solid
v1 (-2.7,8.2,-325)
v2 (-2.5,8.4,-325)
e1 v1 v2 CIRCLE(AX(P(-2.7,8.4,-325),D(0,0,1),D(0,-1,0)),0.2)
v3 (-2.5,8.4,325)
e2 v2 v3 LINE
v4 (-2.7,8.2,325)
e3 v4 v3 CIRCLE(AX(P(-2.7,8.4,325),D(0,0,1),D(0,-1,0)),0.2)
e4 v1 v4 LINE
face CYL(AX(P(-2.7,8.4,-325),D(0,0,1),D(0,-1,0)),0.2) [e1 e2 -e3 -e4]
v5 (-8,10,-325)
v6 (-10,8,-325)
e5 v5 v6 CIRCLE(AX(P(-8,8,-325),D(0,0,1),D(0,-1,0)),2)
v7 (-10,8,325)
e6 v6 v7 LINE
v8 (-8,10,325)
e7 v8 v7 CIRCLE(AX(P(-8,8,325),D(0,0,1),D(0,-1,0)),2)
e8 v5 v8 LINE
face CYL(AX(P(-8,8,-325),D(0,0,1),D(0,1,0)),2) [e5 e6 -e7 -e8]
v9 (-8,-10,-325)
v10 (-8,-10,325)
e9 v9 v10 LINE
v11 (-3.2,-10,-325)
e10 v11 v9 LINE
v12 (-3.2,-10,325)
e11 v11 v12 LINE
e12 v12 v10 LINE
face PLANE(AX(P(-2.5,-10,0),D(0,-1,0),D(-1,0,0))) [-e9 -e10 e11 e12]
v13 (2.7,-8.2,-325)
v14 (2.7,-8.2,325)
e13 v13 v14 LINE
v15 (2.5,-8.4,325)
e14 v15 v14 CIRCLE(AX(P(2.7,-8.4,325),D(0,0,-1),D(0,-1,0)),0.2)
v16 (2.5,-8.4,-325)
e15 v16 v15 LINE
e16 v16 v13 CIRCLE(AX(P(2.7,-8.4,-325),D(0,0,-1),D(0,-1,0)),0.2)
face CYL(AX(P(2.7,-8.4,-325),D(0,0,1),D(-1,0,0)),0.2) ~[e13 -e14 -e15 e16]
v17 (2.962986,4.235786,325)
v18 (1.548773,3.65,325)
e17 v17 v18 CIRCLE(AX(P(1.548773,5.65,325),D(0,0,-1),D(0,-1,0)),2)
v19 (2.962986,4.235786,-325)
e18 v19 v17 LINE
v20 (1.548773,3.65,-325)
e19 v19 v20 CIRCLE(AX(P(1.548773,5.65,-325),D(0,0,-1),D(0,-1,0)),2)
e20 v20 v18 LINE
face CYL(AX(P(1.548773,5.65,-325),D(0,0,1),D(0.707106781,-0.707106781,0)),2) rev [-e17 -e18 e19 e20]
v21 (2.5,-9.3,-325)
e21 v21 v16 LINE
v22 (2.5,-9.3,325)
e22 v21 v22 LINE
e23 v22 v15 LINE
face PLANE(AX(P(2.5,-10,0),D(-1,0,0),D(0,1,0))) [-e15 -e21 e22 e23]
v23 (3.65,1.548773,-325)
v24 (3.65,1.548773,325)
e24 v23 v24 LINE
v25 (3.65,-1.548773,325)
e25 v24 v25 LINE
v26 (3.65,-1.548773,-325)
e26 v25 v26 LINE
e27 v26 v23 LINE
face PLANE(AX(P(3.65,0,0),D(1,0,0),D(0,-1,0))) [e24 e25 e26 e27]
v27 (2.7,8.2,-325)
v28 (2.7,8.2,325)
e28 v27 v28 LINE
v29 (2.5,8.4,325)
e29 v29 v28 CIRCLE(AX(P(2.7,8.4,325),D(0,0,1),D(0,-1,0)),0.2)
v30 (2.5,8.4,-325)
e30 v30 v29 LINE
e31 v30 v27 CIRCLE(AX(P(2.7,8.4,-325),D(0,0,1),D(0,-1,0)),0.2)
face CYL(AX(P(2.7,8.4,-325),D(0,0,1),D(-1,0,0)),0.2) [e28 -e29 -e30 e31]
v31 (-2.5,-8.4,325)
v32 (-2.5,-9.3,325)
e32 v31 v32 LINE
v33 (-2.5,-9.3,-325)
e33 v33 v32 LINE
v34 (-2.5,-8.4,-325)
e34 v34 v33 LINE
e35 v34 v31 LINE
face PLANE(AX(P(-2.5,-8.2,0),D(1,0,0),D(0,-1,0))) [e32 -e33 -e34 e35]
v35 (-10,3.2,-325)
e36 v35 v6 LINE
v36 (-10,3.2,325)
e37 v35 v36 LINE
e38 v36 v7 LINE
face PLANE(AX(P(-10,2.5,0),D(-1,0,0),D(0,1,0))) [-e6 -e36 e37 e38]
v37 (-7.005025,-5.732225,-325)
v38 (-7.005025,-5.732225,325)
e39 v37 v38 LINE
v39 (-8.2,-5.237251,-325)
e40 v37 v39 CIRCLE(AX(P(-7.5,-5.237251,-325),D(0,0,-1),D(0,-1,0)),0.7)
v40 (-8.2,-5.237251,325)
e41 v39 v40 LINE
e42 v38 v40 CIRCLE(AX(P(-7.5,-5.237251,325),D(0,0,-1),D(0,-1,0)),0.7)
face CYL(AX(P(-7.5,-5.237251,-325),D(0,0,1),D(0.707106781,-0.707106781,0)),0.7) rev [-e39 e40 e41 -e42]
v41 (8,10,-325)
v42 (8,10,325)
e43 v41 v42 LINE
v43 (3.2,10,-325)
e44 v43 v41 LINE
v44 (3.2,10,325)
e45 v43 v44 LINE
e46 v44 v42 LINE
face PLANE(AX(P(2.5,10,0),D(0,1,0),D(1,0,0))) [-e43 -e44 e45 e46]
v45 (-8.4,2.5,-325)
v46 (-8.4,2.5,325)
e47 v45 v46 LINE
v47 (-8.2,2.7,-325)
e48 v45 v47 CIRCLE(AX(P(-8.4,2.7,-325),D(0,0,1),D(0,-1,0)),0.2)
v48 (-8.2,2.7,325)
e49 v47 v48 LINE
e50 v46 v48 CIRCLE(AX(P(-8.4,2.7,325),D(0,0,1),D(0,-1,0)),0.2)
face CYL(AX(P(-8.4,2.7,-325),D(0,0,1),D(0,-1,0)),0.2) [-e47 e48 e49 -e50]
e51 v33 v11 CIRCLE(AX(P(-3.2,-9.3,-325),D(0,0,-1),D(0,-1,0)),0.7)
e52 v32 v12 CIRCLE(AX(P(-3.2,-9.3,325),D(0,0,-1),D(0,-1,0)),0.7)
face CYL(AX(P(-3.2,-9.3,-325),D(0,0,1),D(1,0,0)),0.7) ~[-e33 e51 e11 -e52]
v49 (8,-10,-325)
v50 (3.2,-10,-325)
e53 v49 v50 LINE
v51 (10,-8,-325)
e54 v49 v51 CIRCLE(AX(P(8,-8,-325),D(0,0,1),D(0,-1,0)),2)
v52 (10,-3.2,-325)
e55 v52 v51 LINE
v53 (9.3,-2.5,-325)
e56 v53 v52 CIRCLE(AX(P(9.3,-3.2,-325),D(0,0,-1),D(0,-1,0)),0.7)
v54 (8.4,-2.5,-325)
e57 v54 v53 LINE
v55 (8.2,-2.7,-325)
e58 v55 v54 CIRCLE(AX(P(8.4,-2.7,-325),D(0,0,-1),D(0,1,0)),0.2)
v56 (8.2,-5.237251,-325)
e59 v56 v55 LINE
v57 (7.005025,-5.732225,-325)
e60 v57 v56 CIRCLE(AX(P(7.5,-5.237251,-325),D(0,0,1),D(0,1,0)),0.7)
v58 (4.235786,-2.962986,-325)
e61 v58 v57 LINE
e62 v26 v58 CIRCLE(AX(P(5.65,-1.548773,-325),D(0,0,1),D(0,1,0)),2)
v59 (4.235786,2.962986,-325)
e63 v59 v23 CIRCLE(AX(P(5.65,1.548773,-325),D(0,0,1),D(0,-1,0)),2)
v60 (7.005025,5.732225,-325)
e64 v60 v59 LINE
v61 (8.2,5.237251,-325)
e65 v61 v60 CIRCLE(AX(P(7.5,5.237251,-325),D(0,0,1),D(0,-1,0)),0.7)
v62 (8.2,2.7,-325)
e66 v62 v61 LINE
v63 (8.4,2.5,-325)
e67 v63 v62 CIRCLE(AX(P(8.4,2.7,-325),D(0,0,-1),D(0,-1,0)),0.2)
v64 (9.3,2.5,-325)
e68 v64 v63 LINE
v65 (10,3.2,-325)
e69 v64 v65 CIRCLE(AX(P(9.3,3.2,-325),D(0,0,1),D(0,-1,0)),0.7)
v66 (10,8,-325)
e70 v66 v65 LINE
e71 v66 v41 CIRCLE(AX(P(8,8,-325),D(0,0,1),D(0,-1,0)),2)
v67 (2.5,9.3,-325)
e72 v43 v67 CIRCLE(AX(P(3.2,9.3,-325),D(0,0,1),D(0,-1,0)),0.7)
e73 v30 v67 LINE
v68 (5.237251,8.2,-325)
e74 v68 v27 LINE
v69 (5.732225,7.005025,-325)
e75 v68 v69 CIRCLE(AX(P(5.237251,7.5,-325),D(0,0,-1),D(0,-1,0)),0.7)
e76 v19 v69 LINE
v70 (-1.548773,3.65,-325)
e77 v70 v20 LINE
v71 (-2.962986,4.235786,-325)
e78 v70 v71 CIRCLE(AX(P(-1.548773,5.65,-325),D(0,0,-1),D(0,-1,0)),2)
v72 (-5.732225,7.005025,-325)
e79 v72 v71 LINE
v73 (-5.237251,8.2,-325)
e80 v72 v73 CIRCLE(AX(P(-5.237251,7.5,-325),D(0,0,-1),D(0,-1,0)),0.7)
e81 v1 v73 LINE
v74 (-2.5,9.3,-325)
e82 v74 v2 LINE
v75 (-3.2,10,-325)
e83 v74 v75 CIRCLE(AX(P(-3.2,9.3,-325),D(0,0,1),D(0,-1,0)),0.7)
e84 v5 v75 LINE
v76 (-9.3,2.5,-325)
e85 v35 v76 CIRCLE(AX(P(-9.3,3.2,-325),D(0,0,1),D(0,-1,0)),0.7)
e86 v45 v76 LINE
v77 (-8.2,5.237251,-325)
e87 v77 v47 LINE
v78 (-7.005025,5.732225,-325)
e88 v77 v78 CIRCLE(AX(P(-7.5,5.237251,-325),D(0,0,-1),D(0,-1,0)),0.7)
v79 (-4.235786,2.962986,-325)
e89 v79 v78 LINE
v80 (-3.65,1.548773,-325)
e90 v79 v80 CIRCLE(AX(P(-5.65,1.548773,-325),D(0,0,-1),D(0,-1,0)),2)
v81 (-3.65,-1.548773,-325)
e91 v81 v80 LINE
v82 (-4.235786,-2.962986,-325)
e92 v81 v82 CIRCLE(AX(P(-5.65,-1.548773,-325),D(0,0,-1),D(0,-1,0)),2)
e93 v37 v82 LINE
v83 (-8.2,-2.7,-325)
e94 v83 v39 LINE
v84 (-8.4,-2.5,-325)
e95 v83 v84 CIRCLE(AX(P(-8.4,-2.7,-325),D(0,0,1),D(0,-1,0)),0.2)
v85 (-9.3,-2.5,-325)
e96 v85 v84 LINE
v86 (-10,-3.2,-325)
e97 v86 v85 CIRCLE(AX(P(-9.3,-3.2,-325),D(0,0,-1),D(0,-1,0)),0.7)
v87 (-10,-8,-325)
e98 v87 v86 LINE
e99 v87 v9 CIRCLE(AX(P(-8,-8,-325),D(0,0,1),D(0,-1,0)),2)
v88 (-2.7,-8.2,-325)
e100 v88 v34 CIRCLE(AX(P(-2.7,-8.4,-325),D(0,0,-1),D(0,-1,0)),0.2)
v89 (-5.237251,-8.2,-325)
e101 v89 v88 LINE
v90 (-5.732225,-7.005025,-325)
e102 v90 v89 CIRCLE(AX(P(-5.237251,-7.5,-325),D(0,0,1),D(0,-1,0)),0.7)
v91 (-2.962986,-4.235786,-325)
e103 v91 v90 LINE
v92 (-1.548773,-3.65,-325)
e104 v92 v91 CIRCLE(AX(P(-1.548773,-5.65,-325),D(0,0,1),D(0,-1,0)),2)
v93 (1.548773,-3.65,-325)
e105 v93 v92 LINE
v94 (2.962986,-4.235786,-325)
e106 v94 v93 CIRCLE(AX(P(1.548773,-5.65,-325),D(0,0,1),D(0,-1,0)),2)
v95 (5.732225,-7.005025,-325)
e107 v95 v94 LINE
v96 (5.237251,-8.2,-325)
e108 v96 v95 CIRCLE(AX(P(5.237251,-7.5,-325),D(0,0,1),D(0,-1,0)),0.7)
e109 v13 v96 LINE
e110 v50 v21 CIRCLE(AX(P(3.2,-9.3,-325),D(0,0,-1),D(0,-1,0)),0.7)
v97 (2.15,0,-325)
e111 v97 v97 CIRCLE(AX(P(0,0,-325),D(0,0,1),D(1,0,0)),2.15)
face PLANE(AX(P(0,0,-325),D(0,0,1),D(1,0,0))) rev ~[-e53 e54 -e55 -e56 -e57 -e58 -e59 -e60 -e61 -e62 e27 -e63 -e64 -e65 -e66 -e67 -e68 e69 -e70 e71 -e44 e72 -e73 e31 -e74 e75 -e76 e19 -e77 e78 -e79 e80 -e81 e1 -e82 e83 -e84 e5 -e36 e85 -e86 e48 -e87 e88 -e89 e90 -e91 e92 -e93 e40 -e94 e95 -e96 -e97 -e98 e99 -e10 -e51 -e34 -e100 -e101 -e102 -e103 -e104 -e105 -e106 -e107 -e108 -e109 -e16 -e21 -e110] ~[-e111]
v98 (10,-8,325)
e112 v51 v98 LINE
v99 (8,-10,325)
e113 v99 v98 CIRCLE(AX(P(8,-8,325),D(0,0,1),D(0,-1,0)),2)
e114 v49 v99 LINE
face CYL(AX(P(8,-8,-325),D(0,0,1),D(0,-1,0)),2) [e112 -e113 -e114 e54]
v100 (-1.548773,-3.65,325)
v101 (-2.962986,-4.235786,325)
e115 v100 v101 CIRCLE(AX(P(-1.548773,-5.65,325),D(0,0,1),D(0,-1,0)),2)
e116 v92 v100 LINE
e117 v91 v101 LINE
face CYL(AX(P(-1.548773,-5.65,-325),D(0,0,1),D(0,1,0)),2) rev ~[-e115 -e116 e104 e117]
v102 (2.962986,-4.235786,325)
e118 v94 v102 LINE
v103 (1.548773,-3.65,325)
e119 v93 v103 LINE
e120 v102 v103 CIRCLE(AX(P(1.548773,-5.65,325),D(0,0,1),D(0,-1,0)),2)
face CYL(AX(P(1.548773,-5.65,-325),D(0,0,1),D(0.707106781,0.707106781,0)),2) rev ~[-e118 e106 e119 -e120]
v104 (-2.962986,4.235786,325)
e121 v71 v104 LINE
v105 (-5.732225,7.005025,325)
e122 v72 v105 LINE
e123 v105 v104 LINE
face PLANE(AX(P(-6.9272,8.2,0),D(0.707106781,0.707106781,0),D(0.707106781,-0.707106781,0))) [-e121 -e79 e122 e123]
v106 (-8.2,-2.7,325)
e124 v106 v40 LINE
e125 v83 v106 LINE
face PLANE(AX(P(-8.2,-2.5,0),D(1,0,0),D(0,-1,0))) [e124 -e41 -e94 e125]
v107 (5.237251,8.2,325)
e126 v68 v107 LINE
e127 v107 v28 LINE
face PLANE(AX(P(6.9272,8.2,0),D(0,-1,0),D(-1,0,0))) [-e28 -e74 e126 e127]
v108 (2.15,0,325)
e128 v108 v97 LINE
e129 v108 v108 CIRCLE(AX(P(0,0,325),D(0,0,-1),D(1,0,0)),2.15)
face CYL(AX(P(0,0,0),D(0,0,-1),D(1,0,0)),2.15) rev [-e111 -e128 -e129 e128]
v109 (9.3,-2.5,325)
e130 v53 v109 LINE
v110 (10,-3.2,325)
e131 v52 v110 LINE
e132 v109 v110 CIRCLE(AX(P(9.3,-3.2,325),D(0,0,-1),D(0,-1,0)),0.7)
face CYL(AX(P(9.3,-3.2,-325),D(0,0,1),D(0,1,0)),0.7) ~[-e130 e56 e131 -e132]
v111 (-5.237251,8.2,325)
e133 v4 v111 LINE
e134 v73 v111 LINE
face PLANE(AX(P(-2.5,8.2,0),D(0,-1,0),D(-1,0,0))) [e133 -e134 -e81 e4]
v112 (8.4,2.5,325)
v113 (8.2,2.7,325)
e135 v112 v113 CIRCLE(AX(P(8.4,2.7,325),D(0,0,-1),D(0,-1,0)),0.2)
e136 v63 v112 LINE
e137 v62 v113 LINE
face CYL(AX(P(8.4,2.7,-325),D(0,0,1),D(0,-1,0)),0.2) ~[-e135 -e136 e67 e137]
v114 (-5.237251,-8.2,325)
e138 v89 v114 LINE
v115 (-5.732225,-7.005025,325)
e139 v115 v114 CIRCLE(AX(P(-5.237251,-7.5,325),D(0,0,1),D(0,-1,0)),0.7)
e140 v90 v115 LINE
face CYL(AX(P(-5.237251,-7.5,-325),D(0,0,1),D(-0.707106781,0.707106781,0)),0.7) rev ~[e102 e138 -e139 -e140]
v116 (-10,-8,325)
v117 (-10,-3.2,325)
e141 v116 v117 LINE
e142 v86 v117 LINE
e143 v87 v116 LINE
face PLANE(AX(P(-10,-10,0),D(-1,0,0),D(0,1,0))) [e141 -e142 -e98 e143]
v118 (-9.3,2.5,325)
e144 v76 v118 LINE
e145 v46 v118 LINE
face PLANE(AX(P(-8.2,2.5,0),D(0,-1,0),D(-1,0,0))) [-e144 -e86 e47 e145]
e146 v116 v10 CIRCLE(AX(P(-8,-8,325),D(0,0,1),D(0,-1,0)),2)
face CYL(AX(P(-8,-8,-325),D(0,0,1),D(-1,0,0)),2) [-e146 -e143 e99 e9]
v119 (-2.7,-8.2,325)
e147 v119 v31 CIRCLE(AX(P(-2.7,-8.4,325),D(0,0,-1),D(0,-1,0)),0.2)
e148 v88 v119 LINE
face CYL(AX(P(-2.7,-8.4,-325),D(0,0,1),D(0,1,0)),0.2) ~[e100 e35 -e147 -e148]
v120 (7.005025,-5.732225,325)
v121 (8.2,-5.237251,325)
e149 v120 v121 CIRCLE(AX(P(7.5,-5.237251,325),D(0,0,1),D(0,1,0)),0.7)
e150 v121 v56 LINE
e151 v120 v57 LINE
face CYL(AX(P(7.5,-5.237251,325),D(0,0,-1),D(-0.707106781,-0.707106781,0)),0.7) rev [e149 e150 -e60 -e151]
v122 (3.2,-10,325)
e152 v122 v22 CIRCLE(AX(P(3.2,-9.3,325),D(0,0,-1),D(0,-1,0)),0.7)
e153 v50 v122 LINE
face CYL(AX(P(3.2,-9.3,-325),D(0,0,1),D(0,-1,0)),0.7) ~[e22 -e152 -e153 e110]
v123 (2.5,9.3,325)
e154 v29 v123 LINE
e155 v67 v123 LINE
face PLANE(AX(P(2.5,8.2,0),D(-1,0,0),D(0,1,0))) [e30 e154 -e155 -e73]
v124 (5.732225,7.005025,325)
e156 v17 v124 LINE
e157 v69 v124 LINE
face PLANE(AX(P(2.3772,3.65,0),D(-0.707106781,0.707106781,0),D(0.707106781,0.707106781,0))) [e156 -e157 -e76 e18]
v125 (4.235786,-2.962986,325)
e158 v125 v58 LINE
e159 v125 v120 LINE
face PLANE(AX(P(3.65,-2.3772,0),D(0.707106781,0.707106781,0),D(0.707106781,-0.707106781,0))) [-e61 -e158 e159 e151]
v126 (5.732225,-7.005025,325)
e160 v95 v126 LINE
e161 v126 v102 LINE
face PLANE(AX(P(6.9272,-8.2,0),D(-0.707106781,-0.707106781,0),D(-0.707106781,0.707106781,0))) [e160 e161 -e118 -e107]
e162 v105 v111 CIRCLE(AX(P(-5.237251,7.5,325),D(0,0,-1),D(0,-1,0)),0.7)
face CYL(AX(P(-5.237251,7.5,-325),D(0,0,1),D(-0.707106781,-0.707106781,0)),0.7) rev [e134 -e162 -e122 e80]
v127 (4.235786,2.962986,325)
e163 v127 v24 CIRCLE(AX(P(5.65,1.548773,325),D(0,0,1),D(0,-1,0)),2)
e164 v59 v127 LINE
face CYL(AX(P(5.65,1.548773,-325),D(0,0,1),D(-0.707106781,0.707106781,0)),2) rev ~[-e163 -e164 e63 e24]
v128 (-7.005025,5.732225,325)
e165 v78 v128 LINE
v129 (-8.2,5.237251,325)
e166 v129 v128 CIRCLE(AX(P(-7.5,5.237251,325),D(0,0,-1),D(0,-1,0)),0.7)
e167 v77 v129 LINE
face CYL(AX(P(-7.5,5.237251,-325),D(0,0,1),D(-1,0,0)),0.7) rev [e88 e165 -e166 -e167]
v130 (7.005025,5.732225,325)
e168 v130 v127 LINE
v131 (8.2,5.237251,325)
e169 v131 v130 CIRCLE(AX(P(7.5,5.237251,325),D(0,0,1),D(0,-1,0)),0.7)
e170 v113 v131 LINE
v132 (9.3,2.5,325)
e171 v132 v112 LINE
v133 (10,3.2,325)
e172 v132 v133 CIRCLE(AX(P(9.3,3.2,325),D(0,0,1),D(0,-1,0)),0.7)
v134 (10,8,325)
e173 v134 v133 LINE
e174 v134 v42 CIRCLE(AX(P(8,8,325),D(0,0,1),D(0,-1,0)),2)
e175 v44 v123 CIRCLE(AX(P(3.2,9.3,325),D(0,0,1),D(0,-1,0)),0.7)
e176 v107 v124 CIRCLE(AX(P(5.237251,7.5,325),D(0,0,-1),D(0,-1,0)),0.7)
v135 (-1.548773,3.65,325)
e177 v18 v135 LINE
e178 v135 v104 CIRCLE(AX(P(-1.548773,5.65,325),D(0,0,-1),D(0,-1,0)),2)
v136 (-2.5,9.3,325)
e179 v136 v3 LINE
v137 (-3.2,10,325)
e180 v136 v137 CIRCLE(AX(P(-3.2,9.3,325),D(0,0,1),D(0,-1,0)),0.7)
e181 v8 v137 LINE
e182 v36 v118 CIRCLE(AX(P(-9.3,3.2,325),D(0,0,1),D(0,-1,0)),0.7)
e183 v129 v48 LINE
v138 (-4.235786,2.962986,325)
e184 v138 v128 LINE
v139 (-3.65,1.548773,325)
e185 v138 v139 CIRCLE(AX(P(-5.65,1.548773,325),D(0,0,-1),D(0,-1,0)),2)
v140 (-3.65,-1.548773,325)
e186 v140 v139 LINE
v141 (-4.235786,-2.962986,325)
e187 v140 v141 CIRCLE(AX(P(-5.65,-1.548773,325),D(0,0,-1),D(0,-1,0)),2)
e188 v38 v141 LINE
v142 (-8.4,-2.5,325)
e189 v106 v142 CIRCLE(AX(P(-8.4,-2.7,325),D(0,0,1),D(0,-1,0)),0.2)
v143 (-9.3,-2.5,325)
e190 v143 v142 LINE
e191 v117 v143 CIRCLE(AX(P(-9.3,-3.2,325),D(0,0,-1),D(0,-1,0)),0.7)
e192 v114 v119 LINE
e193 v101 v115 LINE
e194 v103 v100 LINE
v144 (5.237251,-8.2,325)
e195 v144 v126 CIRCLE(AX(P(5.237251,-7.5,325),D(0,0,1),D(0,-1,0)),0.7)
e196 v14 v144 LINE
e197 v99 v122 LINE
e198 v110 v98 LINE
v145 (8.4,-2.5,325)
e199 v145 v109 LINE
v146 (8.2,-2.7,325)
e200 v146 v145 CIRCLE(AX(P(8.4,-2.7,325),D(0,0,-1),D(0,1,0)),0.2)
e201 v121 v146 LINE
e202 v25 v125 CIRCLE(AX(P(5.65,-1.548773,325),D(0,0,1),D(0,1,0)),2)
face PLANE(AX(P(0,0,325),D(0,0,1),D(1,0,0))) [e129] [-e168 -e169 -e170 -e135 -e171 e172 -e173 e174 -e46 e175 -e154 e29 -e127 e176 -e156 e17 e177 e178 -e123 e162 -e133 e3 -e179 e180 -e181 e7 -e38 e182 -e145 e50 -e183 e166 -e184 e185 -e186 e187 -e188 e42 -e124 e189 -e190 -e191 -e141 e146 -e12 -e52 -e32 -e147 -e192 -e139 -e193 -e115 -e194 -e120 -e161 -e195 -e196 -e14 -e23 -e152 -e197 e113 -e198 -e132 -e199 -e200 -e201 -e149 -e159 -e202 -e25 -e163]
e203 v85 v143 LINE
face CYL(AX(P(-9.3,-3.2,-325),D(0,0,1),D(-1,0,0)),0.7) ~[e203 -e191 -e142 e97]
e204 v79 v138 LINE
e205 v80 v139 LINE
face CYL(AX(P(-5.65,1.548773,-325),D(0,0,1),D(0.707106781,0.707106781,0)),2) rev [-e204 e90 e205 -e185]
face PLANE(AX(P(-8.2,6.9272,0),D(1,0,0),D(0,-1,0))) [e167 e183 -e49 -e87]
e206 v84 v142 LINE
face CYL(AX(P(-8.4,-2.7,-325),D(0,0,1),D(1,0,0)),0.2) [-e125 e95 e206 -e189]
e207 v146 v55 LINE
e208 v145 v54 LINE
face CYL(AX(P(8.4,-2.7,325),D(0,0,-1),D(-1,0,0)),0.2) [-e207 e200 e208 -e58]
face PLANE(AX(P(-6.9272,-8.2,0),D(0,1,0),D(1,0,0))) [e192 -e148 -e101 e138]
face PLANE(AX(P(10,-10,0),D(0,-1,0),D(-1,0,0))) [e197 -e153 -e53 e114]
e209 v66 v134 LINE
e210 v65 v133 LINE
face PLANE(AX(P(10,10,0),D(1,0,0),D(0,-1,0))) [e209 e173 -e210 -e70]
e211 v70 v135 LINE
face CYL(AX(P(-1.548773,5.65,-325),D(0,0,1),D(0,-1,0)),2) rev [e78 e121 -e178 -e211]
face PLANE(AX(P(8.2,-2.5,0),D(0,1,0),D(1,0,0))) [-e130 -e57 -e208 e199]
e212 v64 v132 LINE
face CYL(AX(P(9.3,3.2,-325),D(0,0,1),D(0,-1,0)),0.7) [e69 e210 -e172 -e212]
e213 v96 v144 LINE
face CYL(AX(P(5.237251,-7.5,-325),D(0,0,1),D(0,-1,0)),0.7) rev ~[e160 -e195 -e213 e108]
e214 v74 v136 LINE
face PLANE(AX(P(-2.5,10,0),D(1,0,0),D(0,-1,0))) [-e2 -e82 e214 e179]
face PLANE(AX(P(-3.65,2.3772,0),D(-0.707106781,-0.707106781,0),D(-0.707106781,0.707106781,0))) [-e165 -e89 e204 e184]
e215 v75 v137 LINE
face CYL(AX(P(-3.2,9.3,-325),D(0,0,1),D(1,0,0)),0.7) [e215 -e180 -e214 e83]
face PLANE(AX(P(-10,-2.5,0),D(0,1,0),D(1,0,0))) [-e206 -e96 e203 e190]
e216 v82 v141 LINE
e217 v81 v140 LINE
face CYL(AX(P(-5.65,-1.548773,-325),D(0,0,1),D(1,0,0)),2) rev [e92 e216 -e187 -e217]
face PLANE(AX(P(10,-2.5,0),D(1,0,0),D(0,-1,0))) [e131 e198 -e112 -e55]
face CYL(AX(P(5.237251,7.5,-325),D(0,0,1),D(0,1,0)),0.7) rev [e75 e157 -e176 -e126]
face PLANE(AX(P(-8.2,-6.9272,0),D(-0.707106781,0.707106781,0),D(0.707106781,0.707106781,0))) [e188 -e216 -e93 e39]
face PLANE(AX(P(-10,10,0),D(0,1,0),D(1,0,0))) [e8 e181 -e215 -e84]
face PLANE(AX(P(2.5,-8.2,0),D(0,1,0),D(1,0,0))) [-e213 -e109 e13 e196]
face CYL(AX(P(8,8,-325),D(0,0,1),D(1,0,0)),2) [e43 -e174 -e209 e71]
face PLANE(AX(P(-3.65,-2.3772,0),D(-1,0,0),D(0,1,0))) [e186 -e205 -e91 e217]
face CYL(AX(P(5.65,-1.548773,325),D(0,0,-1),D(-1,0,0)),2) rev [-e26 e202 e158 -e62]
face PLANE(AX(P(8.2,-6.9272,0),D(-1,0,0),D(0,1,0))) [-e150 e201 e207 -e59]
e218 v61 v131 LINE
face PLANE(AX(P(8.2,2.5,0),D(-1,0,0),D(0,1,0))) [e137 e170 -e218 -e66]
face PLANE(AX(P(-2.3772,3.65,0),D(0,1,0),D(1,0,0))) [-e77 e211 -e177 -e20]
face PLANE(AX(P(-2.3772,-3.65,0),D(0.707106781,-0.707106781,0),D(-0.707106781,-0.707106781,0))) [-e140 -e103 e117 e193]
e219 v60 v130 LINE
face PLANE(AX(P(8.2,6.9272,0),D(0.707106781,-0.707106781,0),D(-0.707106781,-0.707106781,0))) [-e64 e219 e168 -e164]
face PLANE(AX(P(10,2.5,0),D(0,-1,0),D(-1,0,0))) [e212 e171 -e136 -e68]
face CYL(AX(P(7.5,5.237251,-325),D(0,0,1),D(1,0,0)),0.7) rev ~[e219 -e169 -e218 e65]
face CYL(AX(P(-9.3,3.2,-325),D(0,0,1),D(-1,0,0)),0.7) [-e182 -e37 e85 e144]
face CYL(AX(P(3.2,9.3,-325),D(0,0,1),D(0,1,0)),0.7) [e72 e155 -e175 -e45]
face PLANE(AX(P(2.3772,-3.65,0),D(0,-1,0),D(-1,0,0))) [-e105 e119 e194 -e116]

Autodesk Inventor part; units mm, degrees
ref_plane "YZ Plane" through (0, 0, 0) normal (1, 0, 0) x (0, 1, 0)
ref_plane "XZ Plane" through (0, 0, 0) normal (0, 1, 0) x (-1, 0, 0)
ref_plane "XY Plane" through (0, 0, 0) normal (0, 0, 1) x (1, 0, 0)
sketch "Sketch1" plane through (0, 0, 0) normal (0, 0, 1) x (1, 0, 0)
  circle A0 centre (0, 0) radius 2.15
  line L0 (-10, 10) -> (-2.5, 10)
  line L1 (-2.5, 10) -> (-2.5, 8.2)
  line L2 (-2.5, 8.2) -> (-6.9272, 8.2)
  line L3 (-6.9272, 8.2) -> (-2.3772, 3.65)
  line L4 (-2.3772, 3.65) -> (2.3772, 3.65)
  line L5 (2.3772, 3.65) -> (6.9272, 8.2)
  line L6 (6.9272, 8.2) -> (2.5, 8.2)
  line L7 (2.5, 8.2) -> (2.5, 10)
  line L8 (2.5, 10) -> (10, 10)
  line L9 (10, 10) -> (10, 2.5)
  line L10 (10, 2.5) -> (8.2, 2.5)
  line L11 (8.2, 2.5) -> (8.2, 6.9272)
  line L12 (8.2, 6.9272) -> (3.65, 2.3772)
  line L13 (3.65, 2.3772) -> (3.65, -2.3772)
  line L14 (3.65, -2.3772) -> (8.2, -6.9272)
  line L15 (8.2, -6.9272) -> (8.2, -2.5)
  line L16 (8.2, -2.5) -> (10, -2.5)
  line L17 (10, -2.5) -> (10, -10)
  line L18 (10, -10) -> (2.5, -10)
  line L19 (2.5, -10) -> (2.5, -8.2)
  line L20 (2.5, -8.2) -> (6.9272, -8.2)
  line L21 (6.9272, -8.2) -> (2.3772, -3.65)
  line L22 (2.3772, -3.65) -> (-2.3772, -3.65)
  line L23 (-2.3772, -3.65) -> (-6.9272, -8.2)
  line L24 (-6.9272, -8.2) -> (-2.5, -8.2)
  line L25 (-2.5, -8.2) -> (-2.5, -10)
  line L26 (-2.5, -10) -> (-10, -10)
  line L27 (-10, -10) -> (-10, -2.5)
  line L28 (-10, -2.5) -> (-8.2, -2.5)
  line L29 (-8.2, -2.5) -> (-8.2, -6.9272)
  line L30 (-8.2, -6.9272) -> (-3.65, -2.3772)
  line L31 (-3.65, -2.3772) -> (-3.65, 2.3772)
  line L32 (-3.65, 2.3772) -> (-8.2, 6.9272)
  line L33 (-8.2, 6.9272) -> (-8.2, 2.5)
  line L34 (-8.2, 2.5) -> (-10, 2.5)
  line L35 (-10, 2.5) -> (-10, 10)
  line L36 (0, 0) -> (-30.8654, 30.8654)
  line L37 (0, 0) -> (30.8654, 30.8654)
  line L38 (0, 0) -> (42.5392, 0)
  line L39 (0, 0) -> (0, 44.3419)
  dimension "d0" = 45
  dimension "d1" = 90
  dimension "Breite" = 20
  dimension "Tiefe_Schiene" = 6.35
  dimension "d2" = 1.8
  dimension "Durchmesser_Loch" = 4.3
  dimension "Wandstaerke" = 1.8
  dimension "d3" = 1.8
  dimension "Breite_Schiene" = 5
  dimension "d4" = 5
extrude "Extrusion1" add sketch "Sketch1" along normal mid plane 650 contours L38 L13 L14 L15 L16 L17 L18 L19 L20 L21 L22 L23 L24 L25 L26 L27 L28 L29 L30 L31 L32 L33 L34 L35 L36 A0 | A0 L37 L9 L10 L11 L12 L13 L38 | A0 L39 L4 L5 L6 L7 L8 L37 | L36 L0 L1 L2 L3 L4 L39 A0
fillet "Fillet1" radius 2 4 edges at (10, 10, 0) (-10, 10, 0) (10, -10, 0) (-10, -10, 0)
fillet "Fillet2" radius 0.2 8 edges at (-2.5, 8.2, 0) (2.5, 8.2, 0) (8.2, 2.5, 0) (8.2, -2.5, 0) (-2.5, -8.2, 0) (-8.2, -2.5, 0) (-8.2, 2.5, 0) (2.5, -8.2, 0)
fillet "Fillet3" radius 0.7 16 edges at (-2.5, 10, 0) (2.5, 10, 0) (10, 2.5, 0) (10, -2.5, 0) (2.5, -10, 0) (-2.5, -10, 0) (-10, -2.5, 0) (-10, 2.5, 0) (-6.9272, -8.2, 0) (-8.2, -6.9272, 0) (6.9272, -8.2, 0) (8.2, -6.9272, 0) (8.2, 6.9272, 0) (6.9272, 8.2, 0) (-6.9272, 8.2, 0) (-8.2, 6.9272, 0)
fillet "Fillet4" radius 2 8 edges at (-3.65, 2.3772, 0) (-2.3772, 3.65, 0) (2.3772, 3.65, 0) (3.65, 2.3772, 0) (3.65, -2.3772, 0) (2.3772, -3.65, 0) (-2.3772, -3.65, 0) (-3.65, -2.3772, 0)
equation "\"d2\" = Wandstaerke"
equation "\"d3\" = Wandstaerke"
equation "\"d4\" = Breite_Schiene"
properties part number "ITEM_20x20_650mm"
